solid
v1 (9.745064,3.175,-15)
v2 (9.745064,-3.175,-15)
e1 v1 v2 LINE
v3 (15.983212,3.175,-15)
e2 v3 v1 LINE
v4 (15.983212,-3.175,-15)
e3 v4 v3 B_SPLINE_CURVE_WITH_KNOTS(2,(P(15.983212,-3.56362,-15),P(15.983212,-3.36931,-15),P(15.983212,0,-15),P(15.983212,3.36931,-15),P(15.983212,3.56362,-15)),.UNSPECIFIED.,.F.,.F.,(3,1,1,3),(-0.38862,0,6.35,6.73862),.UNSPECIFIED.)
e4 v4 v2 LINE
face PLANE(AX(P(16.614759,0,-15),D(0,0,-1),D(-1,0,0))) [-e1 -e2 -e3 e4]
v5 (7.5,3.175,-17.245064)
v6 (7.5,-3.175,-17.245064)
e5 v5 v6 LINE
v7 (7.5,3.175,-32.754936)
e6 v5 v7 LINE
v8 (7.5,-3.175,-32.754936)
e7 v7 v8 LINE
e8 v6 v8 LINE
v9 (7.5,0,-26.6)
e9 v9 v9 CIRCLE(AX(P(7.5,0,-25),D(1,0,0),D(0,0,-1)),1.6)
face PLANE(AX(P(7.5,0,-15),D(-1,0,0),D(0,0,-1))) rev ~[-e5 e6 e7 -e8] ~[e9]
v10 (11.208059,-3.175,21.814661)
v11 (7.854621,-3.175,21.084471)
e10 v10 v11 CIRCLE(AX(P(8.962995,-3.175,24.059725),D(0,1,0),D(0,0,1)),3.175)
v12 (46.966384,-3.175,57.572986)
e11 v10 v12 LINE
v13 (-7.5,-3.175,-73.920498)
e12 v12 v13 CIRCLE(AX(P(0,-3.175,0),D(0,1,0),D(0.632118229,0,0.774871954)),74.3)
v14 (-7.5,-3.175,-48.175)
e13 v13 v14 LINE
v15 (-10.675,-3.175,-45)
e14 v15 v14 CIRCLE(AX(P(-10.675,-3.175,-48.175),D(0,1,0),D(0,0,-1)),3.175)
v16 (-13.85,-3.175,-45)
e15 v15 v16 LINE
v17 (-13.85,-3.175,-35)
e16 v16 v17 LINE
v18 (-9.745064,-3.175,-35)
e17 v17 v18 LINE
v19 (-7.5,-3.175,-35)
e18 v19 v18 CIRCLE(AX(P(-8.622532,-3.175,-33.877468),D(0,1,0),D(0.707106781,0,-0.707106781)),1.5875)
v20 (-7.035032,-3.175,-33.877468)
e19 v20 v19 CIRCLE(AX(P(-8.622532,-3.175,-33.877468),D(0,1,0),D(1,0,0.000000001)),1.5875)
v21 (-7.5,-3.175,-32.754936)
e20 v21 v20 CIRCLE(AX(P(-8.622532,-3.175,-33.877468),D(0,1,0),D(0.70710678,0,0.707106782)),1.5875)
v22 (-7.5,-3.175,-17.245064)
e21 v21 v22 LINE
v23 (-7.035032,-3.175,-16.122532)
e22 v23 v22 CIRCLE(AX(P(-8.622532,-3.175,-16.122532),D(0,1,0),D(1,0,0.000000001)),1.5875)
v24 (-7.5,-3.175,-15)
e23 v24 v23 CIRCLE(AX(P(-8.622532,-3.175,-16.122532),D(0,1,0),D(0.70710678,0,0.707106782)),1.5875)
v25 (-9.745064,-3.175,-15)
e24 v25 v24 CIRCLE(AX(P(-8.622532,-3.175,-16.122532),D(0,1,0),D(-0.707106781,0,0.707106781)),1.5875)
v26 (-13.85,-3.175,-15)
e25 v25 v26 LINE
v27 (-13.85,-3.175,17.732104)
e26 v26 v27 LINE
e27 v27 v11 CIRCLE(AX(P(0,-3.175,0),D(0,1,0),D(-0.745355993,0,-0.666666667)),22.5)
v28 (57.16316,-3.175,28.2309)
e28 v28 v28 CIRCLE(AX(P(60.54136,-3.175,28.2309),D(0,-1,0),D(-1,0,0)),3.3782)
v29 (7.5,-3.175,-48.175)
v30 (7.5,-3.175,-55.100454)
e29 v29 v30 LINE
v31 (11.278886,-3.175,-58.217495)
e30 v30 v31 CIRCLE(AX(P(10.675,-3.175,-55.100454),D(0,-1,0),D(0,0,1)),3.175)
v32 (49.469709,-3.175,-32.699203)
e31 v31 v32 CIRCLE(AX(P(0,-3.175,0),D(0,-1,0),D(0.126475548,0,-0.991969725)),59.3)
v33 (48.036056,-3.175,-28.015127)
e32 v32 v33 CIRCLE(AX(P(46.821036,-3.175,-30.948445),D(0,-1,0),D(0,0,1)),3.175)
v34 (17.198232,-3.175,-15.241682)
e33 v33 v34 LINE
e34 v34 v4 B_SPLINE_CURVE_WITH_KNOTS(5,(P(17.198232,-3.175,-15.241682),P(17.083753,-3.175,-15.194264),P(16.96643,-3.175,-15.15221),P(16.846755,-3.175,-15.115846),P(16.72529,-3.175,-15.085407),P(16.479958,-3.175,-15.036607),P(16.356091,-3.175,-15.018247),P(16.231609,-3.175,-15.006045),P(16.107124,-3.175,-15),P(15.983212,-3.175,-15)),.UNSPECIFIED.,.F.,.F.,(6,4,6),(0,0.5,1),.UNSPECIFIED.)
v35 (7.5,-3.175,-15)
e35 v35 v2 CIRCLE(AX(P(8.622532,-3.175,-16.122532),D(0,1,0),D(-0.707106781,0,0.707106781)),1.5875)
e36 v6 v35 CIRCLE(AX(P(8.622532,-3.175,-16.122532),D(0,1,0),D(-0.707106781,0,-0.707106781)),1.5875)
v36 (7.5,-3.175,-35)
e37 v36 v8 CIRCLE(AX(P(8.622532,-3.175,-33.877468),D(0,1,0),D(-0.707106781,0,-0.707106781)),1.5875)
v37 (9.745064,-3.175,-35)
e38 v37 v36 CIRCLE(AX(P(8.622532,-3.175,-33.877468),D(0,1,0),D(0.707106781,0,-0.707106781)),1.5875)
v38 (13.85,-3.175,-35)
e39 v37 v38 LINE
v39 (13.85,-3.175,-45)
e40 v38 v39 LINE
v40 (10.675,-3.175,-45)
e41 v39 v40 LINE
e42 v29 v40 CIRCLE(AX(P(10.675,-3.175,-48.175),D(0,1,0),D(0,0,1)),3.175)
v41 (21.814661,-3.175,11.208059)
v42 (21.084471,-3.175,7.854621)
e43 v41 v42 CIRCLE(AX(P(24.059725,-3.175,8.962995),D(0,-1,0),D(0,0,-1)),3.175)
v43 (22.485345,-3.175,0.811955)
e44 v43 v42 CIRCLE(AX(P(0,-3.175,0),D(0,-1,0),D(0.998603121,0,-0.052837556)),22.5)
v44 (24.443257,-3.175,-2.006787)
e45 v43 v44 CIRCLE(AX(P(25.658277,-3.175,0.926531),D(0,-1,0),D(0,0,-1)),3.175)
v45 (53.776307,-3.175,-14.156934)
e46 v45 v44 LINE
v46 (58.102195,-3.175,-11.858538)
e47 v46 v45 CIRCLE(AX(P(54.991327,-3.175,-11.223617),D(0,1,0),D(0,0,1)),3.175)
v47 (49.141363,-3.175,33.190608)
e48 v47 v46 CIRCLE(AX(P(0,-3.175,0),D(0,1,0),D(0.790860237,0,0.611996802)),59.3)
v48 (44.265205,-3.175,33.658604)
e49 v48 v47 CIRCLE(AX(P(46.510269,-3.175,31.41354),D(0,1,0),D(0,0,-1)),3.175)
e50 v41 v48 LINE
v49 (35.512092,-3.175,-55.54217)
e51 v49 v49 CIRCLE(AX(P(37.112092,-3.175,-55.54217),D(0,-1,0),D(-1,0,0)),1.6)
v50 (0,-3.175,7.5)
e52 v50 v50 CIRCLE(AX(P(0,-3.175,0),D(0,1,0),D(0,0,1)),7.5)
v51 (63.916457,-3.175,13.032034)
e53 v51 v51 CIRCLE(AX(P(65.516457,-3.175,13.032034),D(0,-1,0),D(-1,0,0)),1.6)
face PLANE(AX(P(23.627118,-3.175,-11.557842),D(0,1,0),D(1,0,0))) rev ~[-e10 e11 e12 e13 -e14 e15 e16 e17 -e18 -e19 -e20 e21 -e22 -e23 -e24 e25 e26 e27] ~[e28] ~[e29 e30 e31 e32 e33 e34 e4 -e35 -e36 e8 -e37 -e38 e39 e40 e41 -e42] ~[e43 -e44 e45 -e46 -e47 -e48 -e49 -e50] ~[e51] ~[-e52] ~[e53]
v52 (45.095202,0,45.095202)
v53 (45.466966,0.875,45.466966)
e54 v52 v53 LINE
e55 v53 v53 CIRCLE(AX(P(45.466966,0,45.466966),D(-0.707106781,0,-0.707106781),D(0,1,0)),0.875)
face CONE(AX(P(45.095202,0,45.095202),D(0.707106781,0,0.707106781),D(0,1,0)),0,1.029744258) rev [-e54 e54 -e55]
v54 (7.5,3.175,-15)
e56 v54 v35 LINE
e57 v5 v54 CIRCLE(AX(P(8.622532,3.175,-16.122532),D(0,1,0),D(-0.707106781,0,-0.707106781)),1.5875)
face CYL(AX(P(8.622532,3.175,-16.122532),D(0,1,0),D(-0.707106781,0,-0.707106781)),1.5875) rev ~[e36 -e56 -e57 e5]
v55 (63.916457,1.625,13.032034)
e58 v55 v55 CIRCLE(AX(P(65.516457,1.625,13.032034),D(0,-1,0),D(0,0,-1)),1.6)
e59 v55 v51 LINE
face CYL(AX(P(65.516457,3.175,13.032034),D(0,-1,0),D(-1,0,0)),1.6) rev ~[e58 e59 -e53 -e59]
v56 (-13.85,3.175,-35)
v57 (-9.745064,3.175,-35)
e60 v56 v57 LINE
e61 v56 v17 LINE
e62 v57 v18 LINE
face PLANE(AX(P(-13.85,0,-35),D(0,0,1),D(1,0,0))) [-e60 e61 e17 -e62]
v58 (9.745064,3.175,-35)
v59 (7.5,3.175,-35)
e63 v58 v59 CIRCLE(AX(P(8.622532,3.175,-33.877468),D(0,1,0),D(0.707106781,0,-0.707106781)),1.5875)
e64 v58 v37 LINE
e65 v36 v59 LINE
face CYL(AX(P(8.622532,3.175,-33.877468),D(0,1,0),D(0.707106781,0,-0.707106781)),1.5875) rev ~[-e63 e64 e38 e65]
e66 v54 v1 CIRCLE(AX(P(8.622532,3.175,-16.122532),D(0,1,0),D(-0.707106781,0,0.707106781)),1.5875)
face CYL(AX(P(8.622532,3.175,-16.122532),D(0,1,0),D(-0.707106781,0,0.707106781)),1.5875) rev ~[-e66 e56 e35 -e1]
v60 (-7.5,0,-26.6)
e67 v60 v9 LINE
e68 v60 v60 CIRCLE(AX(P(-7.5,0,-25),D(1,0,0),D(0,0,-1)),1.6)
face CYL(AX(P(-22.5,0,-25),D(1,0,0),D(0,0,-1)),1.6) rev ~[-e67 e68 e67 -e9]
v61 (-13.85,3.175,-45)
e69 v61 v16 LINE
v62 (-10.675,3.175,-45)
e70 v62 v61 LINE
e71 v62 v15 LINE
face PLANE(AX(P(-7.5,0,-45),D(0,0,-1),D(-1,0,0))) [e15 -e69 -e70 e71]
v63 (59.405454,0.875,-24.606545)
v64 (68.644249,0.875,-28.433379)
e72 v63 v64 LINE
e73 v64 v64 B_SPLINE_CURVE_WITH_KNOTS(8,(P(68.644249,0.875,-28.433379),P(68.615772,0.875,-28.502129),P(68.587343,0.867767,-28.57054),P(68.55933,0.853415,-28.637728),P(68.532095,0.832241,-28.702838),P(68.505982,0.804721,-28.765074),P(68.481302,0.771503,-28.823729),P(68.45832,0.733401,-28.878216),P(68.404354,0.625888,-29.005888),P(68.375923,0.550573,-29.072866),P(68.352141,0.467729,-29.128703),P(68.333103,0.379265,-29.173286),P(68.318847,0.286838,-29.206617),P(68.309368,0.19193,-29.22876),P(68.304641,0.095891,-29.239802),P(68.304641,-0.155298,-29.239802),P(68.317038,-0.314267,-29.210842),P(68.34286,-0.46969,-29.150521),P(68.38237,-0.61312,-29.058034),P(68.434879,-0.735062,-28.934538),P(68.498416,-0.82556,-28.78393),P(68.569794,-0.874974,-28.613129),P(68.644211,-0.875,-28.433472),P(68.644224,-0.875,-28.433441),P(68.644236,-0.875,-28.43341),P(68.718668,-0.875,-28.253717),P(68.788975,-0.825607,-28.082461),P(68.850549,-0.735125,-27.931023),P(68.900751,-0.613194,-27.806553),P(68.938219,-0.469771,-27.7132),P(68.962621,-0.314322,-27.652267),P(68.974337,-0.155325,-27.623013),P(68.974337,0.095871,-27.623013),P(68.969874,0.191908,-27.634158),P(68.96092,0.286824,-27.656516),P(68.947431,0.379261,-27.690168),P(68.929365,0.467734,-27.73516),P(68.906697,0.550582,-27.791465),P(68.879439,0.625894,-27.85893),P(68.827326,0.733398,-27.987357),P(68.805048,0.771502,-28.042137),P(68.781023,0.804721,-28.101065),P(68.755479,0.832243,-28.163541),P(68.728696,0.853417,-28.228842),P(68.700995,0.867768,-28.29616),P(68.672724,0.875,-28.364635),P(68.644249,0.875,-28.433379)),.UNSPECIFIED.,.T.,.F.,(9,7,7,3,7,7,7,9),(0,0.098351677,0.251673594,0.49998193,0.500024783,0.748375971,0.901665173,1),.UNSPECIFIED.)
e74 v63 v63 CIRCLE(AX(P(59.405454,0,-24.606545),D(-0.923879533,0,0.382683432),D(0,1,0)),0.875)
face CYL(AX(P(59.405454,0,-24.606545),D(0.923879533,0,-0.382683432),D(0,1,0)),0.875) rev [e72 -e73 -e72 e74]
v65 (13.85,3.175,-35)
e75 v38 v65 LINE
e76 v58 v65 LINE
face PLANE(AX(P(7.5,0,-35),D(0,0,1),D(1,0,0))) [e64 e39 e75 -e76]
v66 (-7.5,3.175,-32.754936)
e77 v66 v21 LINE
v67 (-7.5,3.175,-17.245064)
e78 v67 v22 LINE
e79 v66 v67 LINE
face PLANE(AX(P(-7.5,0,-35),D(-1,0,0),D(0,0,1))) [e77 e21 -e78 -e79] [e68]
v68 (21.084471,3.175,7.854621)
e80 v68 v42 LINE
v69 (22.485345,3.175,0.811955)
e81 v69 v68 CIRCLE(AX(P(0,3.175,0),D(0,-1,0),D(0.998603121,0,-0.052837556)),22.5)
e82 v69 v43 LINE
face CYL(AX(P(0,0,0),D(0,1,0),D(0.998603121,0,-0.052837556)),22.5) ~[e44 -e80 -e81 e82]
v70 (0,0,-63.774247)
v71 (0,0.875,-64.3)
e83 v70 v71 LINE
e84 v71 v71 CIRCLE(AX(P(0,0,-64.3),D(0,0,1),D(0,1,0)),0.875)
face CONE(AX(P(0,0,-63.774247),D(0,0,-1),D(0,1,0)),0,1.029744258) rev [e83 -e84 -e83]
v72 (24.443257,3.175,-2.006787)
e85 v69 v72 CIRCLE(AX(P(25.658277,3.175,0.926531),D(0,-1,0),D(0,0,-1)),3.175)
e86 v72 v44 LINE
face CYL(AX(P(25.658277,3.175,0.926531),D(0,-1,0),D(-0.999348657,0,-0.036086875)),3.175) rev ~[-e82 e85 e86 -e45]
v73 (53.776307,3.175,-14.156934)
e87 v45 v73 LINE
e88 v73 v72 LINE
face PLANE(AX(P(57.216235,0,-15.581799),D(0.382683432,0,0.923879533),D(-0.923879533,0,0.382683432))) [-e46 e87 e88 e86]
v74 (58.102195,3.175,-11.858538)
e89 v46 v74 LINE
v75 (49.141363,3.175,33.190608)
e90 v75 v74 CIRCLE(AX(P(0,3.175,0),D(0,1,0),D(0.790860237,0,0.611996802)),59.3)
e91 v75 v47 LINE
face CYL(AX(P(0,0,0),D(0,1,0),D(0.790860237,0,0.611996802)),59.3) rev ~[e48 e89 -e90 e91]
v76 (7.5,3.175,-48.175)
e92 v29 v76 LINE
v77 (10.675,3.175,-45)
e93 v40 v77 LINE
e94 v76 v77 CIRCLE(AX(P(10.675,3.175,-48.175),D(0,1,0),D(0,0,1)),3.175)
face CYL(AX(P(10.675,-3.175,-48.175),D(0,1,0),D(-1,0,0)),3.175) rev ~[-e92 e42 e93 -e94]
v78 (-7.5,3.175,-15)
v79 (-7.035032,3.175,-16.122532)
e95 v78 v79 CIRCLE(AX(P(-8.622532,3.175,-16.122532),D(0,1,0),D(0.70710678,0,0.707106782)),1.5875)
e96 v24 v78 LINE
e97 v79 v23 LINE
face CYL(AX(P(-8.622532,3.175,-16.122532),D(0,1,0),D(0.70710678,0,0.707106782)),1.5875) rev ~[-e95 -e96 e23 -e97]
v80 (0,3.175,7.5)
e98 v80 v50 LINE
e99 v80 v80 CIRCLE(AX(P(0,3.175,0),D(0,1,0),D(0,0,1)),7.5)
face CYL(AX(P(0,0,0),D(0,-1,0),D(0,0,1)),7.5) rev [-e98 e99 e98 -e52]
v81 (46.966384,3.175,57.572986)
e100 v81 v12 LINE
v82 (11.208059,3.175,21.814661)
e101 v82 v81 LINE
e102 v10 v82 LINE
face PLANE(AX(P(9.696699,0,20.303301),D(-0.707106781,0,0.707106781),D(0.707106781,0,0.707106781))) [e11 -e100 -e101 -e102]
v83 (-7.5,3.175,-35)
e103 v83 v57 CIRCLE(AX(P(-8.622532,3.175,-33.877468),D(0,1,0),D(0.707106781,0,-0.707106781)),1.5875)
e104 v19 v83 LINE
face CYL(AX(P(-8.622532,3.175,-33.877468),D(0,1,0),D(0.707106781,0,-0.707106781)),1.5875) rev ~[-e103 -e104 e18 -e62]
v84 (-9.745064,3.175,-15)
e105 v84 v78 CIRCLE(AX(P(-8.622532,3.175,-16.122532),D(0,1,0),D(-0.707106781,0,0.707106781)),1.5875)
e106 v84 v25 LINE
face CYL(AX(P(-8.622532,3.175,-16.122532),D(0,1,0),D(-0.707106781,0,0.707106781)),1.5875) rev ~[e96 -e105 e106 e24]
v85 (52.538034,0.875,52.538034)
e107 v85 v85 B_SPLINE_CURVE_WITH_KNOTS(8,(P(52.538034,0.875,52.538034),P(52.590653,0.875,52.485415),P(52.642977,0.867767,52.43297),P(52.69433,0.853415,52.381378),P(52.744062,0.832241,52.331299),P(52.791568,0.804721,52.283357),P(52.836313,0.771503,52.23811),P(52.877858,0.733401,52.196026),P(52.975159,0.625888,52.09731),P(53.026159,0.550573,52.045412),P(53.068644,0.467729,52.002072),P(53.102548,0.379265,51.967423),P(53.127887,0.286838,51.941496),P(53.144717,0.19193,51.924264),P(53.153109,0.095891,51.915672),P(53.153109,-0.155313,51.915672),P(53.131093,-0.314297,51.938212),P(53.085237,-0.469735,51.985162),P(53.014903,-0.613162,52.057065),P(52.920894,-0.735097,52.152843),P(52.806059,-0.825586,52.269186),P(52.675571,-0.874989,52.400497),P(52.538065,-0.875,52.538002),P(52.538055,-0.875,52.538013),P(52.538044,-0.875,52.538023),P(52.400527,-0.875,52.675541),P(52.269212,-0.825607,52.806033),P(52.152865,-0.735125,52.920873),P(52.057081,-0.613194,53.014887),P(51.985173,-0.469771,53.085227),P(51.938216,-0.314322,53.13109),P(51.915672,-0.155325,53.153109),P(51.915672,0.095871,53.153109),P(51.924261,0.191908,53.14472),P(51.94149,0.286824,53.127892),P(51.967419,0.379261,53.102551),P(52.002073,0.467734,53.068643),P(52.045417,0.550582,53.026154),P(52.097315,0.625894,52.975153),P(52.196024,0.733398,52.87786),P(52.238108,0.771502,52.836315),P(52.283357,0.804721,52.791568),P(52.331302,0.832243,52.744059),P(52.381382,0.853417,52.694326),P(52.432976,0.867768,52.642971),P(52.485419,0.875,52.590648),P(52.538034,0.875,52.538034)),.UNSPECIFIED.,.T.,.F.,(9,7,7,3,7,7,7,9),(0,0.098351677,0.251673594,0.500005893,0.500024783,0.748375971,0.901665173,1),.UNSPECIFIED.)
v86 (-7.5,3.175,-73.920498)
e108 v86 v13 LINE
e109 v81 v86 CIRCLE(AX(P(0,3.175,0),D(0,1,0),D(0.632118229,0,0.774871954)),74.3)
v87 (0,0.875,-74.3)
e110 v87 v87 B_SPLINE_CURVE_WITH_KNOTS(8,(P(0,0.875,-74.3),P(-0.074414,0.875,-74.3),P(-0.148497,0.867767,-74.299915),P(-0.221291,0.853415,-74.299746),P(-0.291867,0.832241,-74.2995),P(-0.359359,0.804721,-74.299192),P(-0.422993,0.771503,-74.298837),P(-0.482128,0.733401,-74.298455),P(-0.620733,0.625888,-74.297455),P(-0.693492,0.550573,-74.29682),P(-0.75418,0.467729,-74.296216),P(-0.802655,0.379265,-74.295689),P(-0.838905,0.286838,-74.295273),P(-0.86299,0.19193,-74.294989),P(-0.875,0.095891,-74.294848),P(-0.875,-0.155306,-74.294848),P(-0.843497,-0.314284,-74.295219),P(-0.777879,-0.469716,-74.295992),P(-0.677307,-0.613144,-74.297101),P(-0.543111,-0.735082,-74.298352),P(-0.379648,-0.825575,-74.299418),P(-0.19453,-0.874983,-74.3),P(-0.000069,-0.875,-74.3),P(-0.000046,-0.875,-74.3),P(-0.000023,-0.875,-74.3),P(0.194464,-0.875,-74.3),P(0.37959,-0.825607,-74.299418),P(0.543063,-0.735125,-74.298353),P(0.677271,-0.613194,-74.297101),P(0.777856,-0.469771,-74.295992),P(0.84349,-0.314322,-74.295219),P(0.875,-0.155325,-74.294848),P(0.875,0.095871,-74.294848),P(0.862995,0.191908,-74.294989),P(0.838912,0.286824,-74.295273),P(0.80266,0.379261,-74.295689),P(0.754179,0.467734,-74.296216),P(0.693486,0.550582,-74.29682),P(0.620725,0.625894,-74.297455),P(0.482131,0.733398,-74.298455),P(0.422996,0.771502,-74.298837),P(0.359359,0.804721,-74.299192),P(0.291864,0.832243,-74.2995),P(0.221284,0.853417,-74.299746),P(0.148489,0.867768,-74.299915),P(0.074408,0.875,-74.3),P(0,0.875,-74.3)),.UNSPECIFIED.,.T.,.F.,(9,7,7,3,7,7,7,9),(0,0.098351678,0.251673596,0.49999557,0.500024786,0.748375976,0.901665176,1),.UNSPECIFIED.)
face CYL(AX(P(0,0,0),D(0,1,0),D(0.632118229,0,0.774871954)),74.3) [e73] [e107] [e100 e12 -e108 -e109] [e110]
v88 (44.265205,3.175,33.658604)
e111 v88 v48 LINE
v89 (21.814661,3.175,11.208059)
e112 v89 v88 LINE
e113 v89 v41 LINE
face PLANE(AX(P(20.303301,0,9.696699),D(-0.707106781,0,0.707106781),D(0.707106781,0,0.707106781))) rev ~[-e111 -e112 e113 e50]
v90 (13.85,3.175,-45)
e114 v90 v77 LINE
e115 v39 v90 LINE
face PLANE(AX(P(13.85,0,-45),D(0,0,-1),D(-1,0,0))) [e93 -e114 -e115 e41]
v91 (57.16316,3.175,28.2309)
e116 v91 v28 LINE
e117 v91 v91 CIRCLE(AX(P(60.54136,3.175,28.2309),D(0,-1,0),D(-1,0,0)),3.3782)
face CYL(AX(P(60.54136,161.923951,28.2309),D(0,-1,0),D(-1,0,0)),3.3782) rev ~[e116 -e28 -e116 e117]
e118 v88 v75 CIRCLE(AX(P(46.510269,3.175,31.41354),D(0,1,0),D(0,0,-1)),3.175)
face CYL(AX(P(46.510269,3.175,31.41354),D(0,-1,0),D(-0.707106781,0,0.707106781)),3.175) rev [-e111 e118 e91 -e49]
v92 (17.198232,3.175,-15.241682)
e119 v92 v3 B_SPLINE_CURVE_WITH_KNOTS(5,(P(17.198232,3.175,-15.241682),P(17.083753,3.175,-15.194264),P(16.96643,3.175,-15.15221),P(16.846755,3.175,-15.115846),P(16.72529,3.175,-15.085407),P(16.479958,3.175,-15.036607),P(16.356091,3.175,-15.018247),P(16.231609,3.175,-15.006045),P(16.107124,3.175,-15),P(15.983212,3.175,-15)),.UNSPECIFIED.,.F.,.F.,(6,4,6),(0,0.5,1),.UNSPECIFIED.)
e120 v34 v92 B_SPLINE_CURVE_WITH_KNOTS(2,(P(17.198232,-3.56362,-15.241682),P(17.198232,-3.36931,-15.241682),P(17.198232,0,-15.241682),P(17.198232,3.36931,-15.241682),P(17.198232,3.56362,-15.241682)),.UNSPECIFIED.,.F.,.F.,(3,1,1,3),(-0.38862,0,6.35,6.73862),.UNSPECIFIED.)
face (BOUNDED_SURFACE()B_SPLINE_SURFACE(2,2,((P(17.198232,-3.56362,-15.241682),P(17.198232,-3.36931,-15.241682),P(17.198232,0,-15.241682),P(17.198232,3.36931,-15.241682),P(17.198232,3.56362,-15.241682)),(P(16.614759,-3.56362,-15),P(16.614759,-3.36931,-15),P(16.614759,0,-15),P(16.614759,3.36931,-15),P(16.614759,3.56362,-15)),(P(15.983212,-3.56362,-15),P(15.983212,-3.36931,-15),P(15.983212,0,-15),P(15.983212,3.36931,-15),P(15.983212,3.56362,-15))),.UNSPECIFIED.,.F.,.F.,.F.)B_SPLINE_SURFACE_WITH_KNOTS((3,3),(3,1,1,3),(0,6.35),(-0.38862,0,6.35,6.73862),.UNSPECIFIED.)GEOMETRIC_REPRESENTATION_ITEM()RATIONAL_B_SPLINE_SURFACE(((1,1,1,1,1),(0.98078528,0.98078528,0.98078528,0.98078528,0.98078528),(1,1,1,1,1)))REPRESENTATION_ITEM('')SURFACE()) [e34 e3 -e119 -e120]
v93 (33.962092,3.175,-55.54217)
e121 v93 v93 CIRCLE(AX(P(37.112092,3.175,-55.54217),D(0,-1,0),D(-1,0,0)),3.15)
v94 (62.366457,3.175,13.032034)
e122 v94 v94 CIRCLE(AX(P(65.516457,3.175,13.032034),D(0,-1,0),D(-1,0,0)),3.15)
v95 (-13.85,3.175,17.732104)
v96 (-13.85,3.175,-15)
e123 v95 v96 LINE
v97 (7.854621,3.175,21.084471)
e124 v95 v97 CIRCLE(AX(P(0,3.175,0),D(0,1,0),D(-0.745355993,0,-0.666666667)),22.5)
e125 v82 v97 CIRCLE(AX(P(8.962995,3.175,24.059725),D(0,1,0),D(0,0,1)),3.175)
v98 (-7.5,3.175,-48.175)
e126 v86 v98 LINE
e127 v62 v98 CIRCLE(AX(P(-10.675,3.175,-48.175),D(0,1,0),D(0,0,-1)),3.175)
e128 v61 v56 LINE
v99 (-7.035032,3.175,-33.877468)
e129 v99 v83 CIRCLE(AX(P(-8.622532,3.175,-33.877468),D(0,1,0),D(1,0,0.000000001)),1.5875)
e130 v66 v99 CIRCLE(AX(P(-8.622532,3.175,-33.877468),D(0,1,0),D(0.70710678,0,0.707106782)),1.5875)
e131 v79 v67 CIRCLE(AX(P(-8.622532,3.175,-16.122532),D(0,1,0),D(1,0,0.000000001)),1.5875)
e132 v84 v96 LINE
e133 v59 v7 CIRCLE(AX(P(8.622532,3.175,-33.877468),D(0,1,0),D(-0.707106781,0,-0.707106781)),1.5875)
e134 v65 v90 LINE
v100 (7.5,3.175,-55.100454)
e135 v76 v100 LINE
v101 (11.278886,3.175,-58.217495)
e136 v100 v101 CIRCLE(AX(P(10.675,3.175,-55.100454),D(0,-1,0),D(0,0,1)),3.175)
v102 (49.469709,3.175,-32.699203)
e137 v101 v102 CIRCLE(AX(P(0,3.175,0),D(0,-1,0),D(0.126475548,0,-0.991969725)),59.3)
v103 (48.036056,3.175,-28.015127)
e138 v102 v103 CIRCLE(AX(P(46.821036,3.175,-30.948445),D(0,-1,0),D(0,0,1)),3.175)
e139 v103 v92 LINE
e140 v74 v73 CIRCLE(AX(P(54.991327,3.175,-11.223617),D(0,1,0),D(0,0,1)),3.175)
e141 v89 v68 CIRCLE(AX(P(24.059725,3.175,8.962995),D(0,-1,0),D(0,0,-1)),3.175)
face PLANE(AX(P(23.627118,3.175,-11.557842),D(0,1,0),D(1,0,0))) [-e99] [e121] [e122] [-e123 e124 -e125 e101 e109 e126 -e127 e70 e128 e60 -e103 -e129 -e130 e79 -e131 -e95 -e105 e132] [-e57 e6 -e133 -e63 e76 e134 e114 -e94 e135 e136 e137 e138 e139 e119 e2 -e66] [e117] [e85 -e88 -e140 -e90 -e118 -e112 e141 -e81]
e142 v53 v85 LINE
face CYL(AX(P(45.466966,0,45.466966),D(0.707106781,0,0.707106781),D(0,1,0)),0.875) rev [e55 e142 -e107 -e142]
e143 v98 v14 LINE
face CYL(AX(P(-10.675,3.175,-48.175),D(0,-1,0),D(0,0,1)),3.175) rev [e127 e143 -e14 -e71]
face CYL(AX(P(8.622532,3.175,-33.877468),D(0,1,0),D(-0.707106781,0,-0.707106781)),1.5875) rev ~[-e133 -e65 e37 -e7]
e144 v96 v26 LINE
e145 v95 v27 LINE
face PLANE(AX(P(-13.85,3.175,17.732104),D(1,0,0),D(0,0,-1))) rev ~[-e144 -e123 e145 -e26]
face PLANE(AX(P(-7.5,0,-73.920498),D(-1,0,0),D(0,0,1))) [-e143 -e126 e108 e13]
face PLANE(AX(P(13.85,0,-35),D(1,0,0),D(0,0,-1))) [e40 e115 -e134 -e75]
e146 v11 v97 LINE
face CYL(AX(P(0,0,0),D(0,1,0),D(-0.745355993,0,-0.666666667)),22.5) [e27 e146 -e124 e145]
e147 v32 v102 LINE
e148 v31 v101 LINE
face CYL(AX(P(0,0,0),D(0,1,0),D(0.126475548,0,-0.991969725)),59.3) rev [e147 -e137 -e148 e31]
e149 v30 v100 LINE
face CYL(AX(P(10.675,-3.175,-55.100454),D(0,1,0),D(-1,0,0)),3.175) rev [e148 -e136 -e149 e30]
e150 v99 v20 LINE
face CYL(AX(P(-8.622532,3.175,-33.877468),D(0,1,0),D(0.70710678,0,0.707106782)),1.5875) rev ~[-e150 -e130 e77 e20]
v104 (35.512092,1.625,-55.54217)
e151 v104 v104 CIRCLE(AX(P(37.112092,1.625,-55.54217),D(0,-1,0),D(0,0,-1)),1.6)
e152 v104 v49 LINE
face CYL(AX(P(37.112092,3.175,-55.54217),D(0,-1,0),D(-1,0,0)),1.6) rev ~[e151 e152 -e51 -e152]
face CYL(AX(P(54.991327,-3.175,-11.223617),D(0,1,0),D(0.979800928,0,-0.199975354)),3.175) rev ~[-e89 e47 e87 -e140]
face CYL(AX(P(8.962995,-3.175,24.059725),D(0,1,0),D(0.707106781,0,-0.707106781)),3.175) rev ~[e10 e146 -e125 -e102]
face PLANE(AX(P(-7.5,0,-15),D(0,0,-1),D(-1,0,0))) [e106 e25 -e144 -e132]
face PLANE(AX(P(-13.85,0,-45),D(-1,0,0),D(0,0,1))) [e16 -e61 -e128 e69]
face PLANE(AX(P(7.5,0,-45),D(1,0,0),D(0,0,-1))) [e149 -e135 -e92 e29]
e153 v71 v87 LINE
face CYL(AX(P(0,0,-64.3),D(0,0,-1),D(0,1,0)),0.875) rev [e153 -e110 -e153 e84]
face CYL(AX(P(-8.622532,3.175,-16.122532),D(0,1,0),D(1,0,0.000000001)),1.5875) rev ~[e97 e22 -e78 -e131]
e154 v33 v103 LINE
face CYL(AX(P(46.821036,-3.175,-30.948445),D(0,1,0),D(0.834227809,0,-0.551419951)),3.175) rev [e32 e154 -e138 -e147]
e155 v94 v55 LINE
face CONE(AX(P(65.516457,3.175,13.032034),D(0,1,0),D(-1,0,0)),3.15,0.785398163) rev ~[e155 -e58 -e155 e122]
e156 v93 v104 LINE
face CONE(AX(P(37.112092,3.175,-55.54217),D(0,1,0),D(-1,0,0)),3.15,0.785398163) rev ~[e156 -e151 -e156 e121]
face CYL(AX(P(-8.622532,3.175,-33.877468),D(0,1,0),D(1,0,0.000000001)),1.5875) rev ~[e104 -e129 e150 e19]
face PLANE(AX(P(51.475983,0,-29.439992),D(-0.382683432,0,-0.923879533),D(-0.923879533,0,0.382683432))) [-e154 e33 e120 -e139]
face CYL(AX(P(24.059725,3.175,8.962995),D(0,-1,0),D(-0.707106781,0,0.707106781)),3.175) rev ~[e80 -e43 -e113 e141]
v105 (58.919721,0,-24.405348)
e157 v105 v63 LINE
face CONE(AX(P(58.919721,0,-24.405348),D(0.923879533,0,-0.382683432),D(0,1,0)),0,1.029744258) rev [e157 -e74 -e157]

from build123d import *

# Parameters (mm, degrees)
SKETCH1_R                                       = 7.5
BOSS_EXTRUDE1_DEPTH                             = 3.175
CIRPATTERN1_COUNT                               = 3
CIRPATTERN1_ANGLE                               = 135
M3_CLEARANCE_HOLE1_D                            = 3.2
M3_CLEARANCE_HOLE1_DEPTH                        = 15
CSK_FOR_M3_FLAT_HEAD_MACHINE_SCREW1_D           = 3.2
CSK_FOR_M3_FLAT_HEAD_MACHINE_SCREW1_CSINK_D     = 6.3
CSK_FOR_M3_FLAT_HEAD_MACHINE_SCREW1_CSINK_ANGLE = 90
CUT_EXTRUDE1_REACH                              = 107.268
FILLET1_R                                       = 3.175
CUT_EXTRUDE2_REACH                              = 107.268
SKETCH11_W                                      = 9.65
SKETCH11_H                                      = 32.732103654
F_1_4_CLEARANCE_HOLE1_D                         = 6.7564


with BuildPart() as part:
    # Sketch1 → Boss-Extrude1 (new, symmetric)
    with BuildSketch(Plane(origin=(0, 0, 0), x_dir=(1, 0, 0), z_dir=(0, 1, 0))):
        with BuildLine():
            Line((-13.85, 35), (-7.5, 35))
            Line((-7.5, 35), (-7.5, 15))
            Line((-7.5, 15), (-16.770509831, 15))
            ThreePointArc((-16.770509831, 15), (-18.002512666, -13.496649128), (9.696699141, -20.303300859))
            Line((9.696699141, -20.303300859), (46.966384428, -57.572986146))
            ThreePointArc((46.966384428, -57.572986146), (68.644249266, 28.433379025), (-7.5, 73.920497834))
            Line((-7.5, 73.920497834), (-7.5, 45))
            Line((-7.5, 45), (-13.85, 45))
            Line((-13.85, 45), (-13.85, 35))
        make_face()
        with Locations(Location((0, 0, 0), (0, 0, 270))):
            Circle(SKETCH1_R, mode=Mode.SUBTRACT)
        with BuildLine():
            Line((20.303300859, -9.696699141), (46.898012061, -36.291410343))
            ThreePointArc((46.898012061, -36.291410343), (58.160567128, -11.568856096), (57.216234934, 15.581798996))
            Line((57.216234934, 15.581798996), (22.468570216, 1.188845008))
            ThreePointArc((22.468570216, 1.188845008), (22.067668809, -4.389532245), (20.303300859, -9.696699141))
        make_face(mode=Mode.SUBTRACT)
        with BuildLine():
            Line((7.5, 15), (7.5, 35))
            Line((7.5, 35), (13.85, 35))
            Line((13.85, 35), (13.85, 45))
            Line((13.85, 45), (7.5, 45))
            Line((7.5, 45), (7.5, 58.823804705))
            ThreePointArc((7.5, 58.823804705), (32.945314818, 49.30614801), (51.475983449, 29.439991983))
            Line((51.475983449, 29.439991983), (16.72831873, 15.047037996))
            Line((16.72831873, 15.047037996), (16.614758962, 15))
            Line((16.614758962, 15), (7.5, 15))
        make_face(mode=Mode.SUBTRACT)
    extrude(amount=BOSS_EXTRUDE1_DEPTH, both=True)

    # Sketch5 → M2.2x0.45 Tapped Hole1 (revolve, cut)
    with BuildSketch(Plane(origin=(0, 0, -74.3), x_dir=(0, 1, 0), z_dir=(1, 0, 0))):
        Polygon((0, 0), (0, 10.525753042), (0.875, 10), (0.875, 0), align=None)
    m2_2x0_45_tapped_hole1 = revolve(axis=Axis((0, 0, -80.65), (0, 0, 1)), mode=Mode.SUBTRACT)

    # CirPattern1: M2.2x0.45 Tapped Hole1 ×3 about axis
    cirpattern1_axis = Axis((0, 3.175, 0), (0, -1, 0))
    for i in range(1, CIRPATTERN1_COUNT):
        add(m2_2x0_45_tapped_hole1.rotate(cirpattern1_axis, i * CIRPATTERN1_ANGLE / (CIRPATTERN1_COUNT - 1)), mode=Mode.SUBTRACT)

    # M3 Clearance Hole1
    with Locations(Plane.ZY.offset(7.5)):
        with Locations((-25, 0)):
            Hole(M3_CLEARANCE_HOLE1_D / 2, depth=M3_CLEARANCE_HOLE1_DEPTH)

    # CSK for M3 Flat Head Machine Screw1 (through all)
    with Locations(Plane(origin=(0, 3.175, 0), x_dir=(1, 0, 0), z_dir=(0, 1, 0))):
        with Locations((65.516456731, -13.032033511), (37.112091566, 55.542170102)):
            CounterSinkHole(CSK_FOR_M3_FLAT_HEAD_MACHINE_SCREW1_D / 2, CSK_FOR_M3_FLAT_HEAD_MACHINE_SCREW1_CSINK_D / 2, counter_sink_angle=CSK_FOR_M3_FLAT_HEAD_MACHINE_SCREW1_CSINK_ANGLE)

    # Sketch10 → Cut-Extrude1 (cut, up to next)
    with BuildSketch(Plane(origin=(0, 3.175, 0), x_dir=(1, 0, 0), z_dir=(0, 1, 0)), mode=Mode.PRIVATE) as cut_extrude1_sk1:
        with BuildLine():
            Line((-8.622532015, 15), (-9.74506403, 15))
            ThreePointArc((-9.74506403, 15), (-8.622532015, 14.535032015), (-7.5, 15))
            Line((-7.5, 15), (-8.622532015, 15))
        make_face()
    cut_extrude1_tool1 = extrude(cut_extrude1_sk1.sketch, amount=-CUT_EXTRUDE1_REACH, mode=Mode.PRIVATE) & part.part
    # Sketch10 → Cut-Extrude1 (cut, up to next)
    with BuildSketch(Plane(origin=(0, 3.175, 0), x_dir=(1, 0, 0), z_dir=(0, 1, 0)), mode=Mode.PRIVATE) as cut_extrude1_sk2:
        with BuildLine():
            ThreePointArc((-7.035032015, 16.122532015), (-7.155873257, 16.730041964), (-7.5, 17.24506403))
            Line((-7.5, 17.24506403), (-7.5, 16.122532015))
            Line((-7.5, 16.122532015), (-7.5, 15))
            ThreePointArc((-7.5, 15), (-7.155873257, 15.515022066), (-7.035032015, 16.122532015))
        make_face()
    cut_extrude1_tool2 = extrude(cut_extrude1_sk2.sketch, amount=-CUT_EXTRUDE1_REACH, mode=Mode.PRIVATE) & part.part
    # Sketch10 → Cut-Extrude1 (cut, up to next)
    with BuildSketch(Plane(origin=(0, 3.175, 0), x_dir=(1, 0, 0), z_dir=(0, 1, 0)), mode=Mode.PRIVATE) as cut_extrude1_sk3:
        with BuildLine():
            Line((8.622532015, 15), (7.5, 15))
            ThreePointArc((7.5, 15), (8.622532015, 14.535032015), (9.74506403, 15))
            Line((9.74506403, 15), (8.622532015, 15))
        make_face()
    cut_extrude1_tool3 = extrude(cut_extrude1_sk3.sketch, amount=-CUT_EXTRUDE1_REACH, mode=Mode.PRIVATE) & part.part
    # Sketch10 → Cut-Extrude1 (cut, up to next)
    with BuildSketch(Plane(origin=(0, 3.175, 0), x_dir=(1, 0, 0), z_dir=(0, 1, 0)), mode=Mode.PRIVATE) as cut_extrude1_sk4:
        with BuildLine():
            ThreePointArc((7.5, 17.24506403), (7.035032015, 16.122532015), (7.5, 15))
            Line((7.5, 15), (7.5, 16.122532015))
            Line((7.5, 16.122532015), (7.5, 17.24506403))
        make_face()
    cut_extrude1_tool4 = extrude(cut_extrude1_sk4.sketch, amount=-CUT_EXTRUDE1_REACH, mode=Mode.PRIVATE) & part.part
    # Sketch10 → Cut-Extrude1 (cut, up to next)
    with BuildSketch(Plane(origin=(0, 3.175, 0), x_dir=(1, 0, 0), z_dir=(0, 1, 0)), mode=Mode.PRIVATE) as cut_extrude1_sk5:
        with BuildLine():
            ThreePointArc((7.5, 35), (7.035032015, 33.877467985), (7.5, 32.75493597))
            Line((7.5, 32.75493597), (7.5, 33.877467985))
            Line((7.5, 33.877467985), (7.5, 35))
        make_face()
    cut_extrude1_tool5 = extrude(cut_extrude1_sk5.sketch, amount=-CUT_EXTRUDE1_REACH, mode=Mode.PRIVATE) & part.part
    # Sketch10 → Cut-Extrude1 (cut, up to next)
    with BuildSketch(Plane(origin=(0, 3.175, 0), x_dir=(1, 0, 0), z_dir=(0, 1, 0)), mode=Mode.PRIVATE) as cut_extrude1_sk6:
        with BuildLine():
            ThreePointArc((9.74506403, 35), (8.622532015, 35.464967985), (7.5, 35))
            Line((7.5, 35), (8.622532015, 35))
            Line((8.622532015, 35), (9.74506403, 35))
        make_face()
    cut_extrude1_tool6 = extrude(cut_extrude1_sk6.sketch, amount=-CUT_EXTRUDE1_REACH, mode=Mode.PRIVATE) & part.part
    # Sketch10 → Cut-Extrude1 (cut, up to next)
    with BuildSketch(Plane(origin=(0, 3.175, 0), x_dir=(1, 0, 0), z_dir=(0, 1, 0)), mode=Mode.PRIVATE) as cut_extrude1_sk7:
        with BuildLine():
            ThreePointArc((-7.035032015, 33.877467985), (-7.155873257, 34.484977934), (-7.5, 35))
            Line((-7.5, 35), (-7.5, 33.877467985))
            Line((-7.5, 33.877467985), (-7.5, 32.75493597))
            ThreePointArc((-7.5, 32.75493597), (-7.155873257, 33.269958036), (-7.035032015, 33.877467985))
        make_face()
    cut_extrude1_tool7 = extrude(cut_extrude1_sk7.sketch, amount=-CUT_EXTRUDE1_REACH, mode=Mode.PRIVATE) & part.part
    # Sketch10 → Cut-Extrude1 (cut, up to next)
    with BuildSketch(Plane(origin=(0, 3.175, 0), x_dir=(1, 0, 0), z_dir=(0, 1, 0)), mode=Mode.PRIVATE) as cut_extrude1_sk8:
        with BuildLine():
            Line((-8.622532015, 35), (-7.5, 35))
            ThreePointArc((-7.5, 35), (-8.622532015, 35.464967985), (-9.74506403, 35))
            Line((-9.74506403, 35), (-8.622532015, 35))
        make_face()
    cut_extrude1_tool8 = extrude(cut_extrude1_sk8.sketch, amount=-CUT_EXTRUDE1_REACH, mode=Mode.PRIVATE) & part.part
    add(cut_extrude1_tool1.solids().sort_by_distance((-8.622532, 3.175, -14.811461))[0], mode=Mode.SUBTRACT)
    add(cut_extrude1_tool2.solids().sort_by_distance((-7.311461, 3.175, -16.122532))[0], mode=Mode.SUBTRACT)
    add(cut_extrude1_tool3.solids().sort_by_distance((8.622532, 3.175, -14.811461))[0], mode=Mode.SUBTRACT)
    add(cut_extrude1_tool4.solids().sort_by_distance((7.311461, 3.175, -16.122532))[0], mode=Mode.SUBTRACT)
    add(cut_extrude1_tool5.solids().sort_by_distance((7.311461, 3.175, -33.877468))[0], mode=Mode.SUBTRACT)
    add(cut_extrude1_tool6.solids().sort_by_distance((8.622532, 3.175, -35.188539))[0], mode=Mode.SUBTRACT)
    add(cut_extrude1_tool7.solids().sort_by_distance((-7.311461, 3.175, -33.877468))[0], mode=Mode.SUBTRACT)
    add(cut_extrude1_tool8.solids().sort_by_distance((-8.622532, 3.175, -35.188539))[0], mode=Mode.SUBTRACT)

    # Fillet1
    fillet1_edges = [part.edges().sort_by_distance(p)[0] for p in [
        (-7.5, 0, -45),
        (9.696699141, 0, 20.303300859),
        (7.5, 0, -58.823804705),
        (7.5, 0, -45),
        (16.614758962, 0, -15),
        (51.475983449, 0, -29.439991983),
        (46.898012061, 0, 36.291410343),
        (57.216234934, 0, -15.581798996),
        (22.468570216, 0, -1.188845008),
        (20.303300859, 0, 9.696699141),
    ]]
    fillet(fillet1_edges, radius=FILLET1_R)

    # Sketch11 → Cut-Extrude2 (cut, up to next)
    with BuildSketch(Plane(origin=(0, 3.175, 0), x_dir=(1, 0, 0), z_dir=(0, 1, 0)), mode=Mode.PRIVATE) as cut_extrude2_sk1:
        with Locations((-18.675, -1.366051827)):
            Rectangle(SKETCH11_W, SKETCH11_H)
    cut_extrude2_tool1 = extrude(cut_extrude2_sk1.sketch, amount=-CUT_EXTRUDE2_REACH, mode=Mode.PRIVATE) & part.part
    add(cut_extrude2_tool1.solids().sort_by_distance((-18.675, 3.175, 1.366052))[0], mode=Mode.SUBTRACT)

    # 1/4 Clearance Hole1 (through all)
    with Locations(Plane(origin=(0, 3.175, 0), x_dir=(1, 0, 0), z_dir=(0, 1, 0))):
        with Locations((60.541360174, -28.230899884)):
            Hole(F_1_4_CLEARANCE_HOLE1_D / 2)


solid = part.part
